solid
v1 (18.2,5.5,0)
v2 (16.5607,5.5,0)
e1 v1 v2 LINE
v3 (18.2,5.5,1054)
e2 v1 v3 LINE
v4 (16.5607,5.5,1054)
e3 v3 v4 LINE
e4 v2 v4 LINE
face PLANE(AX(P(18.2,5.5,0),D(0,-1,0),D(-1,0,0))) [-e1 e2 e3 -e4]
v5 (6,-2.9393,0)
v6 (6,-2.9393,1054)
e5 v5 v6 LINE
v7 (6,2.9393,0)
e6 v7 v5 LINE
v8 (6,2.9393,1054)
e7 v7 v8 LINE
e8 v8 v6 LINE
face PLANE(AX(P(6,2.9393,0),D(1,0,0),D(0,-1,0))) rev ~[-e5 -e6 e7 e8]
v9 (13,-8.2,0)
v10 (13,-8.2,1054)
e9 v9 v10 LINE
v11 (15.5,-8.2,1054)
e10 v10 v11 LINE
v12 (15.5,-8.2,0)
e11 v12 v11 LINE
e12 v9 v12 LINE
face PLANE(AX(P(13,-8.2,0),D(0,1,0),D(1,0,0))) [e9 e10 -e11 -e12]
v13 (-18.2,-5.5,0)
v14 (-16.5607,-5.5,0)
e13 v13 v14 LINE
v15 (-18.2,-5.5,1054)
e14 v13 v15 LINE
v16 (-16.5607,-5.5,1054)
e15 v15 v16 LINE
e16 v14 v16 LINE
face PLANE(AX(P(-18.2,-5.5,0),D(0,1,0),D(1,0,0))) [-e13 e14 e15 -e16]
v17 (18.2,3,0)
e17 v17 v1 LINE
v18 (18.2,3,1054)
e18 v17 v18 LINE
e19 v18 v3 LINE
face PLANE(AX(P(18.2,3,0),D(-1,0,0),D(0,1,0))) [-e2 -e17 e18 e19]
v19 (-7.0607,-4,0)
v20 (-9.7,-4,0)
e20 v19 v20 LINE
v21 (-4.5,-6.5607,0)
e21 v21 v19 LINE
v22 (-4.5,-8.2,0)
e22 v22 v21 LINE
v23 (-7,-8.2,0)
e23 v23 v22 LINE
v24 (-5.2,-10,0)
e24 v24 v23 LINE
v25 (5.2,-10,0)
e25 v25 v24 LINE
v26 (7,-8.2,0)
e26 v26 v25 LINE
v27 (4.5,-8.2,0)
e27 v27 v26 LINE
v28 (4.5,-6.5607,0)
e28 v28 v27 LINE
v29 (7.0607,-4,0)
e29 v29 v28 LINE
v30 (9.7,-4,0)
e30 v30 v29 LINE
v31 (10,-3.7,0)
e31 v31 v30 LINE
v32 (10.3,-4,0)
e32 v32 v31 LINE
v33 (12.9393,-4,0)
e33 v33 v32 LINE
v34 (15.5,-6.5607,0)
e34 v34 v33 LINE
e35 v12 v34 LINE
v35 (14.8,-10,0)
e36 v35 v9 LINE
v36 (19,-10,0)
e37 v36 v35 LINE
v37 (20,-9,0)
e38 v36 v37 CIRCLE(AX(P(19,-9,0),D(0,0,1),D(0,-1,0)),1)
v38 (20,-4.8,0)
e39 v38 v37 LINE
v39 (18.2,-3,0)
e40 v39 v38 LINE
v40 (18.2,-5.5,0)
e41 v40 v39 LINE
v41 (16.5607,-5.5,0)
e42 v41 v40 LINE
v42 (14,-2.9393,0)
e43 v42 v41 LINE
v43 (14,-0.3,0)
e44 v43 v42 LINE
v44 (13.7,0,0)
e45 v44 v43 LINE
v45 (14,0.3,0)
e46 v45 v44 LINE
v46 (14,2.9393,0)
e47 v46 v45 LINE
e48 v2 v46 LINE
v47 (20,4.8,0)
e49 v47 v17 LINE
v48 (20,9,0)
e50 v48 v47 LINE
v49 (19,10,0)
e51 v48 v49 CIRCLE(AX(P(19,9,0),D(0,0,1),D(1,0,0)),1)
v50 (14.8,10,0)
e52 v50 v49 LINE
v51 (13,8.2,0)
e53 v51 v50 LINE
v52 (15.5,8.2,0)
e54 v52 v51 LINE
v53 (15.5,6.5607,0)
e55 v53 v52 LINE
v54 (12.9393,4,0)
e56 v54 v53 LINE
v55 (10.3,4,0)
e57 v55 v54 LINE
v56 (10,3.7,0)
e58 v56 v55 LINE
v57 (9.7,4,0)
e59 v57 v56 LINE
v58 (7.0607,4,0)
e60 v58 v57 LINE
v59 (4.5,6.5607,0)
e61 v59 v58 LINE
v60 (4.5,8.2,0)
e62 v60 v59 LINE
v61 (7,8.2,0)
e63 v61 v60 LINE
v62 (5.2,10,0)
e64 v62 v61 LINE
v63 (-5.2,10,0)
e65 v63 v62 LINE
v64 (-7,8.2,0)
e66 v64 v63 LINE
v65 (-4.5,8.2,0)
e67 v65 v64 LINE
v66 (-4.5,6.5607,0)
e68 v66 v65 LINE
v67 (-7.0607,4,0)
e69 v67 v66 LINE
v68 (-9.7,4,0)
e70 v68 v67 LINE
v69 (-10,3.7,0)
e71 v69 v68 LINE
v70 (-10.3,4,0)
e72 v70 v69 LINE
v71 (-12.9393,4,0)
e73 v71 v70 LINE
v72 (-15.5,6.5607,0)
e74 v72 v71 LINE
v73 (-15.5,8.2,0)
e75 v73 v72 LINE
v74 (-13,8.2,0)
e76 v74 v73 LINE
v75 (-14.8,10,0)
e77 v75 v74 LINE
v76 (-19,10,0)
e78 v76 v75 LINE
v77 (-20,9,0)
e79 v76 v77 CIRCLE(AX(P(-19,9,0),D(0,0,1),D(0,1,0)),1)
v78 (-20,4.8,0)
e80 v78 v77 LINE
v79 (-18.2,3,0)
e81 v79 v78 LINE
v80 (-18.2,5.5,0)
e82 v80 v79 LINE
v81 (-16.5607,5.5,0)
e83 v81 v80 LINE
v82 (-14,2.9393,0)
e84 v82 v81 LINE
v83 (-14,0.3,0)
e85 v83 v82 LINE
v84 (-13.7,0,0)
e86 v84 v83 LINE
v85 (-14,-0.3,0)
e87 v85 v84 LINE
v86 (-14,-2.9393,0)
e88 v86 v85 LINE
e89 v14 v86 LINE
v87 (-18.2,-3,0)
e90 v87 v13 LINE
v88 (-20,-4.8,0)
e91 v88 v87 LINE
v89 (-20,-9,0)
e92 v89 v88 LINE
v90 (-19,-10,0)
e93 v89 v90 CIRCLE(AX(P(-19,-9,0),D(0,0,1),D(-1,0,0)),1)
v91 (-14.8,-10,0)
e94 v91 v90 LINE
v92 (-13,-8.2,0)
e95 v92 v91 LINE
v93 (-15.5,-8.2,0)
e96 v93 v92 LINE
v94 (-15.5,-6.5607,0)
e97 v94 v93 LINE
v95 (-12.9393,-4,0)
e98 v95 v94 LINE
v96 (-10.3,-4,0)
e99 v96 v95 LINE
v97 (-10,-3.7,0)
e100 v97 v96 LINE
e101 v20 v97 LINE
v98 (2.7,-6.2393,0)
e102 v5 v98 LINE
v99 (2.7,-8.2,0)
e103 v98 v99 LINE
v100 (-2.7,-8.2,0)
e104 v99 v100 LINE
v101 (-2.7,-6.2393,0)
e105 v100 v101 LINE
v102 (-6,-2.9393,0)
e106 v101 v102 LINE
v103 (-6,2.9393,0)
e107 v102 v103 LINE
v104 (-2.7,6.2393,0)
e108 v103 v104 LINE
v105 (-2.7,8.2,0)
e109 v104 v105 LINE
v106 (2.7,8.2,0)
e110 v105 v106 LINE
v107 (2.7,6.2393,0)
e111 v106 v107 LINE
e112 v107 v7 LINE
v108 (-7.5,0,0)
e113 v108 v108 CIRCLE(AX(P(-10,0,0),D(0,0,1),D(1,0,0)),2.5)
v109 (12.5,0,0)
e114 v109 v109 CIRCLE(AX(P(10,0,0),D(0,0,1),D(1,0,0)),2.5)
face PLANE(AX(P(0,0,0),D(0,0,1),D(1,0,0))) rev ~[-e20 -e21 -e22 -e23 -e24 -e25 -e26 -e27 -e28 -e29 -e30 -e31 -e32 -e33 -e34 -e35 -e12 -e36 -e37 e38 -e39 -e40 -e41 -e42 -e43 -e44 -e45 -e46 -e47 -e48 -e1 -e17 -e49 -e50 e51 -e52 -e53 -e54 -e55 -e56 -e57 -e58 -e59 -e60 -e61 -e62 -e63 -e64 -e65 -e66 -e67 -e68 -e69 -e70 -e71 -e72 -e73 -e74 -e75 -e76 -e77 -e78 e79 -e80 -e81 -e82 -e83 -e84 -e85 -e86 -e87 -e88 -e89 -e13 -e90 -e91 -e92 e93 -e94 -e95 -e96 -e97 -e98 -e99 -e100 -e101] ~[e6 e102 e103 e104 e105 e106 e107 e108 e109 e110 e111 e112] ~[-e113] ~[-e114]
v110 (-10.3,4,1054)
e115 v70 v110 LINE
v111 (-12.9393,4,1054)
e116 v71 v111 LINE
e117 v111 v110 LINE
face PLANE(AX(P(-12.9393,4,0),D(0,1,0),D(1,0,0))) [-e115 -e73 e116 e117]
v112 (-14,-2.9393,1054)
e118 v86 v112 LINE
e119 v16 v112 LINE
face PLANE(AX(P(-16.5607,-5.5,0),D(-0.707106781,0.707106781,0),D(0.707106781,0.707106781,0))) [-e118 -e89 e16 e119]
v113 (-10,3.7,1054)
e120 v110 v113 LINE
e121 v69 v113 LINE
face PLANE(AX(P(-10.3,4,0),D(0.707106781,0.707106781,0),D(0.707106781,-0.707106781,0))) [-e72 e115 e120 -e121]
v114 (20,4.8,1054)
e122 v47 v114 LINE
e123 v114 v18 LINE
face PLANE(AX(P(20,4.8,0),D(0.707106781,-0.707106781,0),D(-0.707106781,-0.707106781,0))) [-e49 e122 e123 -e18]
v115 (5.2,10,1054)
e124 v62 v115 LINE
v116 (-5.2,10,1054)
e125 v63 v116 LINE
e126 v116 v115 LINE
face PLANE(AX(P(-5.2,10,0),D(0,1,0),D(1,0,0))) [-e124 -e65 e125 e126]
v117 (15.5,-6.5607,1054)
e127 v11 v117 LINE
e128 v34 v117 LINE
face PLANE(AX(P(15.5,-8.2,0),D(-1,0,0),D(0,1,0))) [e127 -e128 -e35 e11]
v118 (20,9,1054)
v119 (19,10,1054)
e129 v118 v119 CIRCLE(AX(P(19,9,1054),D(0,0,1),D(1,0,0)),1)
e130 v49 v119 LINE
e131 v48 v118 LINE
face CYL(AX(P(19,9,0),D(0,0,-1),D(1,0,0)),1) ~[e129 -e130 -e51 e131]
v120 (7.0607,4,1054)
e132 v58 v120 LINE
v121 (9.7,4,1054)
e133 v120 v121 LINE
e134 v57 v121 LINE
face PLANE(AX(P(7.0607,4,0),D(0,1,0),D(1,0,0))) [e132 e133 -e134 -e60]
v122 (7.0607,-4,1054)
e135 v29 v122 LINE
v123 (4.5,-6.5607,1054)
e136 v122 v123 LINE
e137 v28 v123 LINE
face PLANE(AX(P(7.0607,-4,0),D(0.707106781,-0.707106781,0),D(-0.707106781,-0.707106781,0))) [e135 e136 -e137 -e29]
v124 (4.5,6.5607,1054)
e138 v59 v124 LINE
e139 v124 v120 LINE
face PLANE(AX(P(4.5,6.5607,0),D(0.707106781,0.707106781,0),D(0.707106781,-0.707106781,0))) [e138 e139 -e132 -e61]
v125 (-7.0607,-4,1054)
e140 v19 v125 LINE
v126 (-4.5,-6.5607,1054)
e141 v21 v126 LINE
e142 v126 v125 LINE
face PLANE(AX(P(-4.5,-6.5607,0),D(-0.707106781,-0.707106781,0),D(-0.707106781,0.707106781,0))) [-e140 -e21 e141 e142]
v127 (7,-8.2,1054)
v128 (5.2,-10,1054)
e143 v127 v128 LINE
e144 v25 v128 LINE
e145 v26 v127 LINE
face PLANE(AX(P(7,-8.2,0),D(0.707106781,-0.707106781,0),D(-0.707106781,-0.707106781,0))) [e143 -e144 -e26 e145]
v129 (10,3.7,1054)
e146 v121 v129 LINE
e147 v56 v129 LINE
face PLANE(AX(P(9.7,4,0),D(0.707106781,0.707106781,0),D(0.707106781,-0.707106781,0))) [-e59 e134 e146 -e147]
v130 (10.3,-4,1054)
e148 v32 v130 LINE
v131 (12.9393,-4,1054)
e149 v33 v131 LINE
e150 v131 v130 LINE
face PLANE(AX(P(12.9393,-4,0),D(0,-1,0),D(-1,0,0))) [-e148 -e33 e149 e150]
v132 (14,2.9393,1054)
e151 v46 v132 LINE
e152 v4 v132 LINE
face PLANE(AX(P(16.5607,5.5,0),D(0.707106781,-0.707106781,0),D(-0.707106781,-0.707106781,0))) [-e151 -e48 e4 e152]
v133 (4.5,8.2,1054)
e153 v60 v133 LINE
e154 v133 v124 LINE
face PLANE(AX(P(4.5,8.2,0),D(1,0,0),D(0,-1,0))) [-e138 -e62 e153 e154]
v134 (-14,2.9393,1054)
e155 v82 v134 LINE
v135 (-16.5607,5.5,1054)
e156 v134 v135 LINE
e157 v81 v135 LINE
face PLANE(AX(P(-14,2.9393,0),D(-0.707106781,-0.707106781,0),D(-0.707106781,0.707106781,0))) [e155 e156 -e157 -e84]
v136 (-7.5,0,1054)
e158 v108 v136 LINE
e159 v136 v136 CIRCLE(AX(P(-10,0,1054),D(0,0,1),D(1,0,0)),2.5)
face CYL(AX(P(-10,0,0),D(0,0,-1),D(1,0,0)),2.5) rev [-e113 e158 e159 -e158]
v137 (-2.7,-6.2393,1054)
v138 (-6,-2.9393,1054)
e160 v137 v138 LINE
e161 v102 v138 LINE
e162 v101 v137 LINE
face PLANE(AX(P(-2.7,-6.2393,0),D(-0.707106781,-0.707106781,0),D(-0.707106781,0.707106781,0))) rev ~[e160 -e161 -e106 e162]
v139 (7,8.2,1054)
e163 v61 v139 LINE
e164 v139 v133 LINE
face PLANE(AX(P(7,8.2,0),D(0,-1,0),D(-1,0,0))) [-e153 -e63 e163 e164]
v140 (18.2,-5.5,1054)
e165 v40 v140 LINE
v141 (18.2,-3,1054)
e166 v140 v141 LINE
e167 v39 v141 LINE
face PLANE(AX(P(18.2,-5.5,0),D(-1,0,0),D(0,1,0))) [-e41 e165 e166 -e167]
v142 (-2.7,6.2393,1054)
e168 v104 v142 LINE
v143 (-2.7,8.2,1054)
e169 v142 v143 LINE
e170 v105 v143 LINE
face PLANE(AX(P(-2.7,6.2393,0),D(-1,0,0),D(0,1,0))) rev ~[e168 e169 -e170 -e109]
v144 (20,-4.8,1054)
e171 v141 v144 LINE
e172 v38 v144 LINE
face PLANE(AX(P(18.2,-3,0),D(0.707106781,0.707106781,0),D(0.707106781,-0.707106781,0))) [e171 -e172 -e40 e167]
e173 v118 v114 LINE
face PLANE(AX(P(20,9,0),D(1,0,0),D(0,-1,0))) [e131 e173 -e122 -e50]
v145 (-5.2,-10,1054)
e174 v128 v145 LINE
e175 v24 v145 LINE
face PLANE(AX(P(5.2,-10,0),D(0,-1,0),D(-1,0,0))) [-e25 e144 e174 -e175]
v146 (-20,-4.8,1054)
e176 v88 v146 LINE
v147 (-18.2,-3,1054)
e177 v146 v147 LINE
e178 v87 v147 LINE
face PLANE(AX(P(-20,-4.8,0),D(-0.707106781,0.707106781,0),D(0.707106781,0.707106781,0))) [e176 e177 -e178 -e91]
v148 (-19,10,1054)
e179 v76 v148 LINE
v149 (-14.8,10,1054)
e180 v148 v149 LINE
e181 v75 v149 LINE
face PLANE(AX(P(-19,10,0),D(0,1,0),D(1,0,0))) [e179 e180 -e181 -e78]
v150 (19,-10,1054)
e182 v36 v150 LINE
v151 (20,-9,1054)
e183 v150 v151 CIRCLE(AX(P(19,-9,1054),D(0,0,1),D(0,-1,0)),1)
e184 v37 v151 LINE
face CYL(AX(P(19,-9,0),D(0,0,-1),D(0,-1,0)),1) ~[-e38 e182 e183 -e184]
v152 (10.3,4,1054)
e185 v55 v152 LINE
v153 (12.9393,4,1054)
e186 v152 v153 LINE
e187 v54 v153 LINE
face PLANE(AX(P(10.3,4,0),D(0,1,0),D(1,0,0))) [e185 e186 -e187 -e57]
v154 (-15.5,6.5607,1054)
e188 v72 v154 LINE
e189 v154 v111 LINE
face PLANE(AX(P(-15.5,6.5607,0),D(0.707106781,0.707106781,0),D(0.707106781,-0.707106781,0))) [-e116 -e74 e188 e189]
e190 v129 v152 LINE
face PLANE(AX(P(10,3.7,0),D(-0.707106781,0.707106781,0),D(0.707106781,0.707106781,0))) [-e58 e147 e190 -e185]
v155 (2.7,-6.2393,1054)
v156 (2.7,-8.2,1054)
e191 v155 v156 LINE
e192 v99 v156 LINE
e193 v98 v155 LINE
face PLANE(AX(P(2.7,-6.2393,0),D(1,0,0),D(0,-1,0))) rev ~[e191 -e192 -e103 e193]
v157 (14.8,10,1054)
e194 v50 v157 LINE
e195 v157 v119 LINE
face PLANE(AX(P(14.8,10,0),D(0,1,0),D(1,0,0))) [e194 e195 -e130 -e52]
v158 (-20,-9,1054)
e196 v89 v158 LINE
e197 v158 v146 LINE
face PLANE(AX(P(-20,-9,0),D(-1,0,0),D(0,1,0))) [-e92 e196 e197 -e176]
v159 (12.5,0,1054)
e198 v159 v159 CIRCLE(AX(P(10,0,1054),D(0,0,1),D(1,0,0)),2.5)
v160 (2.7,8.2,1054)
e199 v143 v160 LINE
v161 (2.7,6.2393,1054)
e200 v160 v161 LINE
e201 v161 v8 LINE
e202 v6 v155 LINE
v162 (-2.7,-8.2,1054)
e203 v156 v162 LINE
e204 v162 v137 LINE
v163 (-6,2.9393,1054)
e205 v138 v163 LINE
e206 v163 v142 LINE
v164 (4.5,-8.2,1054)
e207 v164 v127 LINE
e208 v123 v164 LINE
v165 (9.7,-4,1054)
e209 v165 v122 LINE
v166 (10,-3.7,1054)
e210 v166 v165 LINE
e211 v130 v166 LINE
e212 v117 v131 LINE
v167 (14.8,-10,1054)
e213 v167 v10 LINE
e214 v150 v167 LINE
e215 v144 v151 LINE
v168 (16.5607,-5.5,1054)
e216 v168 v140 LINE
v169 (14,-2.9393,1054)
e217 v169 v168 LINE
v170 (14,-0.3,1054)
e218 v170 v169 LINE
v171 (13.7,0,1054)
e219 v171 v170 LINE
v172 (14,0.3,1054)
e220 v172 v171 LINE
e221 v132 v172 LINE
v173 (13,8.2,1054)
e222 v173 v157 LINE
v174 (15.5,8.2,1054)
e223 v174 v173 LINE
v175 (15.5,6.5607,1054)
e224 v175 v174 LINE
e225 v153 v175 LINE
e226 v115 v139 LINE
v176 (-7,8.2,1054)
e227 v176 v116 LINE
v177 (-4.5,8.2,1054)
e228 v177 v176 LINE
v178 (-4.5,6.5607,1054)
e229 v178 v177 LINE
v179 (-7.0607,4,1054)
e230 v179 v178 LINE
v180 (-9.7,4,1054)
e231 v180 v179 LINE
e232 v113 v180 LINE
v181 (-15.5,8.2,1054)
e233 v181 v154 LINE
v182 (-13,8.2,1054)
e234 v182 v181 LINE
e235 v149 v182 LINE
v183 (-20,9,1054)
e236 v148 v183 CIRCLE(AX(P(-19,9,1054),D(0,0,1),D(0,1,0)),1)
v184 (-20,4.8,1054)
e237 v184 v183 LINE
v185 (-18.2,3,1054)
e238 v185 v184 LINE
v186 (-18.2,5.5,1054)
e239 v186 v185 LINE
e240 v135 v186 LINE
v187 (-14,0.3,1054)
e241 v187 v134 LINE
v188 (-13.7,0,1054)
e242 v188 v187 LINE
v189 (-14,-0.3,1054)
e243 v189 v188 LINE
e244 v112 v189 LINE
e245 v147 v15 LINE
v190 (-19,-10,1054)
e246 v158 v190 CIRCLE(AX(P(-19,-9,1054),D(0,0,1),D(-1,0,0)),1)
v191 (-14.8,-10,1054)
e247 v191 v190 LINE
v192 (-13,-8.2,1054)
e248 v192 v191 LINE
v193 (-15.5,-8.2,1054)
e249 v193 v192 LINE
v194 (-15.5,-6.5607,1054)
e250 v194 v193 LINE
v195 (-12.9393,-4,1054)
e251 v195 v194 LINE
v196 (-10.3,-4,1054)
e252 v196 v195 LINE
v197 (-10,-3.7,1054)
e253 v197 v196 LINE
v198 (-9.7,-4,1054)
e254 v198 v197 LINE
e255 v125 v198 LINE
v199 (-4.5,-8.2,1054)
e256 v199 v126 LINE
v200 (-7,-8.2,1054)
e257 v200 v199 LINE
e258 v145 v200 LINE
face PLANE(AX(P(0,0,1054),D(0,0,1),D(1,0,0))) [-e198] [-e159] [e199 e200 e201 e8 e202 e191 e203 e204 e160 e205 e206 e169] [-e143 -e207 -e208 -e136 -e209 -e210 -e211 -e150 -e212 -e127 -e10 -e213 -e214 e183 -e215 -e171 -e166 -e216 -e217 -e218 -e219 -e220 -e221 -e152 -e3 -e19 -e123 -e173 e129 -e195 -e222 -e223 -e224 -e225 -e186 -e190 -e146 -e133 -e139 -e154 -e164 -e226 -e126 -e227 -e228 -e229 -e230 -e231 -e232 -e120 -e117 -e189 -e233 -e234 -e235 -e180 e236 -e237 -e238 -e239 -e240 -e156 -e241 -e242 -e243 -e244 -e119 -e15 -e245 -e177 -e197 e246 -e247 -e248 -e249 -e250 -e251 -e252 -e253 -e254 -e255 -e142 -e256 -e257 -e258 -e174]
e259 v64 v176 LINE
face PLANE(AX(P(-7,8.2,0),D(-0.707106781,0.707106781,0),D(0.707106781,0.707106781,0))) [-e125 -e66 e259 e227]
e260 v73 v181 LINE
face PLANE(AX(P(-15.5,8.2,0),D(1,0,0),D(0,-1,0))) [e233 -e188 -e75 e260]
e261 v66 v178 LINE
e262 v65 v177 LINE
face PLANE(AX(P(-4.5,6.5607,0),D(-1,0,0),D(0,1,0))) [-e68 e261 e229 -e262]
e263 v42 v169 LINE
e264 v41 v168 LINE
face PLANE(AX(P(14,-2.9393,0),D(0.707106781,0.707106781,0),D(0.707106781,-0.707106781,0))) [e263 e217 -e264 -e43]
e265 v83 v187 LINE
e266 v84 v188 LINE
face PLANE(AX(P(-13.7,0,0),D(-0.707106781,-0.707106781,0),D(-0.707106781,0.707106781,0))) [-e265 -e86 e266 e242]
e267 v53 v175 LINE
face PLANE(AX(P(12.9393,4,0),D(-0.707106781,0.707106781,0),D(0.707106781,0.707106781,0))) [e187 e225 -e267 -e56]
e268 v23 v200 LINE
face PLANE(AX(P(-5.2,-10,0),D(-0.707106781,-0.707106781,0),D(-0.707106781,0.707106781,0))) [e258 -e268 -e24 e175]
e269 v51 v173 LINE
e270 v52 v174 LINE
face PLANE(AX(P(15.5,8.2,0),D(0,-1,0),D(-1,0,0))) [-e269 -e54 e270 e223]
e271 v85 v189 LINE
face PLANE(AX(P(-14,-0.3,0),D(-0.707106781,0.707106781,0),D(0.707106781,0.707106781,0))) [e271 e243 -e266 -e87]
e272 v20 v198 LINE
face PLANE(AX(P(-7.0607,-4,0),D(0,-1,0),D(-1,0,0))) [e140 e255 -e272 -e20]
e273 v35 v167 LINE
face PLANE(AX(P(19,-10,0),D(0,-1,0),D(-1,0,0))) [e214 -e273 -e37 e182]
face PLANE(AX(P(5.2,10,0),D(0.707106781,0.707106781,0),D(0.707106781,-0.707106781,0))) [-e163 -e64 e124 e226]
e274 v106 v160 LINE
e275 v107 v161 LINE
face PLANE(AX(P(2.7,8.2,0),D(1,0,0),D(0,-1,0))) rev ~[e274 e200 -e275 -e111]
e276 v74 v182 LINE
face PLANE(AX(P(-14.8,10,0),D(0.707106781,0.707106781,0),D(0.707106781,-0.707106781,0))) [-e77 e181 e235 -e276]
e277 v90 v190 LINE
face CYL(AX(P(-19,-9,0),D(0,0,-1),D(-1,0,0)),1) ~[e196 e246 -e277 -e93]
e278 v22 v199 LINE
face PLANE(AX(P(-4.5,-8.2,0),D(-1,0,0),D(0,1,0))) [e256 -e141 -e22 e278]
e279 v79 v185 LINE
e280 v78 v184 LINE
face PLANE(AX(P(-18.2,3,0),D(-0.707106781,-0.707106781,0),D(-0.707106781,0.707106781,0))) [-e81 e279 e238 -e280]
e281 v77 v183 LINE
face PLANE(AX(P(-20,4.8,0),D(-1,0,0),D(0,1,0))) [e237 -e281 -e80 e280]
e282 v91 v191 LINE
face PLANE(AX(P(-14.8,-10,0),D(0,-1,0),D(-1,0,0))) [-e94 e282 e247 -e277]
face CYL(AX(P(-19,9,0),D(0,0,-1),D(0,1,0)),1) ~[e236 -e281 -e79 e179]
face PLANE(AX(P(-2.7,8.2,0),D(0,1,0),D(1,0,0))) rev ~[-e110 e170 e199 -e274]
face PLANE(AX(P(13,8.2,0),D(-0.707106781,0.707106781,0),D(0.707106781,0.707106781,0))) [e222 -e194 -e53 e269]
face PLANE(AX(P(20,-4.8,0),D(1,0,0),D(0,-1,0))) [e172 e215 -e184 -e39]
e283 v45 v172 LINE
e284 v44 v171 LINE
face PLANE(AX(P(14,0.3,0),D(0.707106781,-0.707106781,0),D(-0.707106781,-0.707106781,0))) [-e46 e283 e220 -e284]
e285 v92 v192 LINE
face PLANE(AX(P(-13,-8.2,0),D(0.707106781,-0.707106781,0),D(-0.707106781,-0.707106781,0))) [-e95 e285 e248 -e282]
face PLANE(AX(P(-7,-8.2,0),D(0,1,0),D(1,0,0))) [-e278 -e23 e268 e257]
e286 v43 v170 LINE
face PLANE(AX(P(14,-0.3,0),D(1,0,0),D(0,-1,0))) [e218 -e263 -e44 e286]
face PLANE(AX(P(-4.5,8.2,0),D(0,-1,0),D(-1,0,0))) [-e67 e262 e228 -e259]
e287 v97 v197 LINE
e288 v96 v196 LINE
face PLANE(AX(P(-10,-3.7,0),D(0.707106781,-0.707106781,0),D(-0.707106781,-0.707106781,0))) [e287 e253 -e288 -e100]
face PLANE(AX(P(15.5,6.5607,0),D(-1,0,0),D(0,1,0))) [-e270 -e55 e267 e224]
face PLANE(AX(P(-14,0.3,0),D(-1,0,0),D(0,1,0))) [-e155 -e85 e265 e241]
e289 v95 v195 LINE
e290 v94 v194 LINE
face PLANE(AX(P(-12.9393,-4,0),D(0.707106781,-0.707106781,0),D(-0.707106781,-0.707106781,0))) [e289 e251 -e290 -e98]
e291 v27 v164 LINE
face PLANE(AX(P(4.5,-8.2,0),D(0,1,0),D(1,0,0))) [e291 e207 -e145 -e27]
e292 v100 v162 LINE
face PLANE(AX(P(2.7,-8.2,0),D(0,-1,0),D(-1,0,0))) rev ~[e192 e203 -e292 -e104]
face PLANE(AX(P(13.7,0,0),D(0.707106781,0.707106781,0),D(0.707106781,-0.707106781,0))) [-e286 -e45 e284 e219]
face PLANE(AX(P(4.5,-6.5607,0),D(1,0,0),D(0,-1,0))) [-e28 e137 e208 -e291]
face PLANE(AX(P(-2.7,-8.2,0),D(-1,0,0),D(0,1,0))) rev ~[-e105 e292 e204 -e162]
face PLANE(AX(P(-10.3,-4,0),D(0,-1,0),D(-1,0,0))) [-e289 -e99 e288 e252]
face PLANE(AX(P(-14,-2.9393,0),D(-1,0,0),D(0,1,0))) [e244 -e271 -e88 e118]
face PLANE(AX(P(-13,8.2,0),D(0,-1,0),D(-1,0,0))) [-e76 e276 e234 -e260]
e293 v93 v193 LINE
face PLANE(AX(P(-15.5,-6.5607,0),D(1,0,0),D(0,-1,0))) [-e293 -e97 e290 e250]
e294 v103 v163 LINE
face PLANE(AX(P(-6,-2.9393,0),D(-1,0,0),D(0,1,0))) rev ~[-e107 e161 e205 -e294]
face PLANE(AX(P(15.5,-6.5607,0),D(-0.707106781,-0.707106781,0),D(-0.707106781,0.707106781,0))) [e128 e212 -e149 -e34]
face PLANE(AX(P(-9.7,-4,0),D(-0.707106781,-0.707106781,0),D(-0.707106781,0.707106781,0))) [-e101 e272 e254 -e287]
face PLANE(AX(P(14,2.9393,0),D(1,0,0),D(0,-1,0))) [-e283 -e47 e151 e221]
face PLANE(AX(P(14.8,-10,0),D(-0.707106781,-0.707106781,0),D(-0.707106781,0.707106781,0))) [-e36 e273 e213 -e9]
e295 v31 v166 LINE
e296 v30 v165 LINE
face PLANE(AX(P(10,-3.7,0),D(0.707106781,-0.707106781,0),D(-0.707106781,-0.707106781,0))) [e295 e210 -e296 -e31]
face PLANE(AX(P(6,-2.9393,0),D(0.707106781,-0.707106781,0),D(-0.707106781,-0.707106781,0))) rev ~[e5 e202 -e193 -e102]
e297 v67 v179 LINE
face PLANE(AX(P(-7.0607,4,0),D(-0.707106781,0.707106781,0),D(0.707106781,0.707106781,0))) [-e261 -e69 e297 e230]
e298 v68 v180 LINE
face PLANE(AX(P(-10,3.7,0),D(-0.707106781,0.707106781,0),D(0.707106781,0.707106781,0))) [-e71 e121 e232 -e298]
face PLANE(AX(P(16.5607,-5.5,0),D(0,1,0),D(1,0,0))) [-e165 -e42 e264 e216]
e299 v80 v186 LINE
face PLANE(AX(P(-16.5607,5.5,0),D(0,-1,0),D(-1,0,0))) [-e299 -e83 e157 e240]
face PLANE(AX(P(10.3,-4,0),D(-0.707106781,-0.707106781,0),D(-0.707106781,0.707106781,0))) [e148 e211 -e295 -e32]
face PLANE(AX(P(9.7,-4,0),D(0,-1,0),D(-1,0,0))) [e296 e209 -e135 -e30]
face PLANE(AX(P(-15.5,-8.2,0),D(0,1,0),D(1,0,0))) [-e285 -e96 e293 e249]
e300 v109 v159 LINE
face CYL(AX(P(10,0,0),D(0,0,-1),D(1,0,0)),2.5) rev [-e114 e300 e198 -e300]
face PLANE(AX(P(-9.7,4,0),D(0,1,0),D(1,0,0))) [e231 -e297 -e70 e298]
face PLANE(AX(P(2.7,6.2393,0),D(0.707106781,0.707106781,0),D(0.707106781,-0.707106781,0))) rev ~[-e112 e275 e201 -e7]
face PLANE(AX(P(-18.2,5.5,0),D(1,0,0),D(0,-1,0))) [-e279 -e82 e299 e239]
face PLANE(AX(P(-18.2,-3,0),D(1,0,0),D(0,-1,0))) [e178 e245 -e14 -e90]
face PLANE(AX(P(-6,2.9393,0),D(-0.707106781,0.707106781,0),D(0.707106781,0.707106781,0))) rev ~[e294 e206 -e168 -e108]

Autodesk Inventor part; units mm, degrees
ref_plane "YZ Plane" through (0, 0, 0) normal (1, 0, 0) x (0, 1, 0)
ref_plane "XZ Plane" through (0, 0, 0) normal (0, 1, 0) x (-1, 0, 0)
ref_plane "XY Plane" through (0, 0, 0) normal (0, 0, 1) x (1, 0, 0)
sketch "Esboço1" plane through (0, 0, 0) normal (0, 0, 1) x (1, 0, 0)
  arc A0 (19, -10) -> (20, -9) centre (19, -9) ccw
  line L0 (20, -4.8) -> (20, -9)
  line L1 (18.2, -3) -> (20, -4.8)
  line L2 (18.2, -5.5) -> (18.2, -3)
  line L3 (16.5607, -5.5) -> (18.2, -5.5)
  line L4 (14, -2.9393) -> (16.5607, -5.5)
  line L5 (14, -0.3) -> (14, -2.9393)
  line L6 (13.7, 0) -> (14, -0.3)
  line L7 (14, 0.3) -> (13.7, 0)
  line L8 (14, 2.9393) -> (14, 0.3)
  line L9 (16.5607, 5.5) -> (14, 2.9393)
  line L10 (18.2, 5.5) -> (16.5607, 5.5)
  line L11 (18.2, 3) -> (18.2, 5.5)
  line L12 (20, 4.8) -> (18.2, 3)
  line L13 (20, 9) -> (20, 4.8)
  arc A1 (20, 9) -> (19, 10) centre (19, 9) ccw
  line L14 (14.8, 10) -> (19, 10)
  line L15 (13, 8.2) -> (14.8, 10)
  line L16 (15.5, 8.2) -> (13, 8.2)
  line L17 (15.5, 6.5607) -> (15.5, 8.2)
  line L18 (12.9393, 4) -> (15.5, 6.5607)
  line L19 (10.3, 4) -> (12.9393, 4)
  line L20 (10, 3.7) -> (10.3, 4)
  line L21 (9.7, 4) -> (10, 3.7)
  line L22 (7.0607, 4) -> (9.7, 4)
  line L23 (4.5, 6.5607) -> (7.0607, 4)
  line L24 (4.5, 8.2) -> (4.5, 6.5607)
  line L25 (7, 8.2) -> (4.5, 8.2)
  line L26 (5.2, 10) -> (7, 8.2)
  line L27 (-5.2, 10) -> (5.2, 10)
  line L28 (-7, 8.2) -> (-5.2, 10)
  line L29 (-4.5, 8.2) -> (-7, 8.2)
  line L30 (-4.5, 6.5607) -> (-4.5, 8.2)
  line L31 (-7.0607, 4) -> (-4.5, 6.5607)
  line L32 (-9.7, 4) -> (-7.0607, 4)
  line L33 (-10, 3.7) -> (-9.7, 4)
  line L34 (-10.3, 4) -> (-10, 3.7)
  line L35 (-12.9393, 4) -> (-10.3, 4)
  line L36 (-15.5, 6.5607) -> (-12.9393, 4)
  line L37 (-15.5, 8.2) -> (-15.5, 6.5607)
  line L38 (-13, 8.2) -> (-15.5, 8.2)
  line L39 (-14.8, 10) -> (-13, 8.2)
  line L40 (-19, 10) -> (-14.8, 10)
  arc A2 (-19, 10) -> (-20, 9) centre (-19, 9) ccw
  line L41 (-20, 4.8) -> (-20, 9)
  line L42 (-18.2, 3) -> (-20, 4.8)
  line L43 (-18.2, 5.5) -> (-18.2, 3)
  line L44 (-16.5607, 5.5) -> (-18.2, 5.5)
  line L45 (-14, 2.9393) -> (-16.5607, 5.5)
  line L46 (-14, 0.3) -> (-14, 2.9393)
  line L47 (-13.7, 0) -> (-14, 0.3)
  line L48 (-14, -0.3) -> (-13.7, 0)
  line L49 (-14, -2.9393) -> (-14, -0.3)
  line L50 (-16.5607, -5.5) -> (-14, -2.9393)
  line L51 (-18.2, -5.5) -> (-16.5607, -5.5)
  line L52 (-18.2, -3) -> (-18.2, -5.5)
  line L53 (-20, -4.8) -> (-18.2, -3)
  line L54 (-20, -9) -> (-20, -4.8)
  arc A3 (-20, -9) -> (-19, -10) centre (-19, -9) ccw
  line L55 (-14.8, -10) -> (-19, -10)
  line L56 (-13, -8.2) -> (-14.8, -10)
  line L57 (-15.5, -8.2) -> (-13, -8.2)
  line L58 (-15.5, -6.5607) -> (-15.5, -8.2)
  line L59 (-12.9393, -4) -> (-15.5, -6.5607)
  line L60 (-10.3, -4) -> (-12.9393, -4)
  line L61 (-10, -3.7) -> (-10.3, -4)
  line L62 (-9.7, -4) -> (-10, -3.7)
  line L63 (-7.0607, -4) -> (-9.7, -4)
  line L64 (-4.5, -6.5607) -> (-7.0607, -4)
  line L65 (-4.5, -8.2) -> (-4.5, -6.5607)
  line L66 (-7, -8.2) -> (-4.5, -8.2)
  line L67 (-5.2, -10) -> (-7, -8.2)
  line L68 (5.2, -10) -> (-5.2, -10)
  line L69 (7, -8.2) -> (5.2, -10)
  line L70 (4.5, -8.2) -> (7, -8.2)
  line L71 (4.5, -6.5607) -> (4.5, -8.2)
  line L72 (7.0607, -4) -> (4.5, -6.5607)
  line L73 (9.7, -4) -> (7.0607, -4)
  line L74 (10, -3.7) -> (9.7, -4)
  line L75 (10.3, -4) -> (10, -3.7)
  line L76 (12.9393, -4) -> (10.3, -4)
  line L77 (15.5, -6.5607) -> (12.9393, -4)
  line L78 (15.5, -8.2) -> (15.5, -6.5607)
  line L79 (13, -8.2) -> (15.5, -8.2)
  line L80 (14.8, -10) -> (13, -8.2)
  line L81 (19, -10) -> (14.8, -10)
  line L82 (-2.7, 8.2) -> (2.7, 8.2)
  line L83 (2.7, 8.2) -> (2.7, 6.2393)
  line L84 (2.7, 6.2393) -> (6, 2.9393)
  line L85 (6, 2.9393) -> (6, -2.9393)
  line L86 (6, -2.9393) -> (2.7, -6.2393)
  line L87 (2.7, -6.2393) -> (2.7, -8.2)
  line L88 (2.7, -8.2) -> (-2.7, -8.2)
  line L89 (-2.7, -8.2) -> (-2.7, -6.2393)
  line L90 (-2.7, -6.2393) -> (-6, -2.9393)
  line L91 (-6, -2.9393) -> (-6, 2.9393)
  line L92 (-6, 2.9393) -> (-2.7, 6.2393)
  line L93 (-2.7, 6.2393) -> (-2.7, 8.2)
  circle A4 centre (10, 0) radius 2.5
  circle A5 centre (-10, 0) radius 2.5
  point P0 (0, 0)
  point P1 (0, 0)
extrude "Extrusão1" add sketch "Esboço1" along normal blind 1054
properties part number "PERFIL_ESTRUTURAL_20X40_MESA"
